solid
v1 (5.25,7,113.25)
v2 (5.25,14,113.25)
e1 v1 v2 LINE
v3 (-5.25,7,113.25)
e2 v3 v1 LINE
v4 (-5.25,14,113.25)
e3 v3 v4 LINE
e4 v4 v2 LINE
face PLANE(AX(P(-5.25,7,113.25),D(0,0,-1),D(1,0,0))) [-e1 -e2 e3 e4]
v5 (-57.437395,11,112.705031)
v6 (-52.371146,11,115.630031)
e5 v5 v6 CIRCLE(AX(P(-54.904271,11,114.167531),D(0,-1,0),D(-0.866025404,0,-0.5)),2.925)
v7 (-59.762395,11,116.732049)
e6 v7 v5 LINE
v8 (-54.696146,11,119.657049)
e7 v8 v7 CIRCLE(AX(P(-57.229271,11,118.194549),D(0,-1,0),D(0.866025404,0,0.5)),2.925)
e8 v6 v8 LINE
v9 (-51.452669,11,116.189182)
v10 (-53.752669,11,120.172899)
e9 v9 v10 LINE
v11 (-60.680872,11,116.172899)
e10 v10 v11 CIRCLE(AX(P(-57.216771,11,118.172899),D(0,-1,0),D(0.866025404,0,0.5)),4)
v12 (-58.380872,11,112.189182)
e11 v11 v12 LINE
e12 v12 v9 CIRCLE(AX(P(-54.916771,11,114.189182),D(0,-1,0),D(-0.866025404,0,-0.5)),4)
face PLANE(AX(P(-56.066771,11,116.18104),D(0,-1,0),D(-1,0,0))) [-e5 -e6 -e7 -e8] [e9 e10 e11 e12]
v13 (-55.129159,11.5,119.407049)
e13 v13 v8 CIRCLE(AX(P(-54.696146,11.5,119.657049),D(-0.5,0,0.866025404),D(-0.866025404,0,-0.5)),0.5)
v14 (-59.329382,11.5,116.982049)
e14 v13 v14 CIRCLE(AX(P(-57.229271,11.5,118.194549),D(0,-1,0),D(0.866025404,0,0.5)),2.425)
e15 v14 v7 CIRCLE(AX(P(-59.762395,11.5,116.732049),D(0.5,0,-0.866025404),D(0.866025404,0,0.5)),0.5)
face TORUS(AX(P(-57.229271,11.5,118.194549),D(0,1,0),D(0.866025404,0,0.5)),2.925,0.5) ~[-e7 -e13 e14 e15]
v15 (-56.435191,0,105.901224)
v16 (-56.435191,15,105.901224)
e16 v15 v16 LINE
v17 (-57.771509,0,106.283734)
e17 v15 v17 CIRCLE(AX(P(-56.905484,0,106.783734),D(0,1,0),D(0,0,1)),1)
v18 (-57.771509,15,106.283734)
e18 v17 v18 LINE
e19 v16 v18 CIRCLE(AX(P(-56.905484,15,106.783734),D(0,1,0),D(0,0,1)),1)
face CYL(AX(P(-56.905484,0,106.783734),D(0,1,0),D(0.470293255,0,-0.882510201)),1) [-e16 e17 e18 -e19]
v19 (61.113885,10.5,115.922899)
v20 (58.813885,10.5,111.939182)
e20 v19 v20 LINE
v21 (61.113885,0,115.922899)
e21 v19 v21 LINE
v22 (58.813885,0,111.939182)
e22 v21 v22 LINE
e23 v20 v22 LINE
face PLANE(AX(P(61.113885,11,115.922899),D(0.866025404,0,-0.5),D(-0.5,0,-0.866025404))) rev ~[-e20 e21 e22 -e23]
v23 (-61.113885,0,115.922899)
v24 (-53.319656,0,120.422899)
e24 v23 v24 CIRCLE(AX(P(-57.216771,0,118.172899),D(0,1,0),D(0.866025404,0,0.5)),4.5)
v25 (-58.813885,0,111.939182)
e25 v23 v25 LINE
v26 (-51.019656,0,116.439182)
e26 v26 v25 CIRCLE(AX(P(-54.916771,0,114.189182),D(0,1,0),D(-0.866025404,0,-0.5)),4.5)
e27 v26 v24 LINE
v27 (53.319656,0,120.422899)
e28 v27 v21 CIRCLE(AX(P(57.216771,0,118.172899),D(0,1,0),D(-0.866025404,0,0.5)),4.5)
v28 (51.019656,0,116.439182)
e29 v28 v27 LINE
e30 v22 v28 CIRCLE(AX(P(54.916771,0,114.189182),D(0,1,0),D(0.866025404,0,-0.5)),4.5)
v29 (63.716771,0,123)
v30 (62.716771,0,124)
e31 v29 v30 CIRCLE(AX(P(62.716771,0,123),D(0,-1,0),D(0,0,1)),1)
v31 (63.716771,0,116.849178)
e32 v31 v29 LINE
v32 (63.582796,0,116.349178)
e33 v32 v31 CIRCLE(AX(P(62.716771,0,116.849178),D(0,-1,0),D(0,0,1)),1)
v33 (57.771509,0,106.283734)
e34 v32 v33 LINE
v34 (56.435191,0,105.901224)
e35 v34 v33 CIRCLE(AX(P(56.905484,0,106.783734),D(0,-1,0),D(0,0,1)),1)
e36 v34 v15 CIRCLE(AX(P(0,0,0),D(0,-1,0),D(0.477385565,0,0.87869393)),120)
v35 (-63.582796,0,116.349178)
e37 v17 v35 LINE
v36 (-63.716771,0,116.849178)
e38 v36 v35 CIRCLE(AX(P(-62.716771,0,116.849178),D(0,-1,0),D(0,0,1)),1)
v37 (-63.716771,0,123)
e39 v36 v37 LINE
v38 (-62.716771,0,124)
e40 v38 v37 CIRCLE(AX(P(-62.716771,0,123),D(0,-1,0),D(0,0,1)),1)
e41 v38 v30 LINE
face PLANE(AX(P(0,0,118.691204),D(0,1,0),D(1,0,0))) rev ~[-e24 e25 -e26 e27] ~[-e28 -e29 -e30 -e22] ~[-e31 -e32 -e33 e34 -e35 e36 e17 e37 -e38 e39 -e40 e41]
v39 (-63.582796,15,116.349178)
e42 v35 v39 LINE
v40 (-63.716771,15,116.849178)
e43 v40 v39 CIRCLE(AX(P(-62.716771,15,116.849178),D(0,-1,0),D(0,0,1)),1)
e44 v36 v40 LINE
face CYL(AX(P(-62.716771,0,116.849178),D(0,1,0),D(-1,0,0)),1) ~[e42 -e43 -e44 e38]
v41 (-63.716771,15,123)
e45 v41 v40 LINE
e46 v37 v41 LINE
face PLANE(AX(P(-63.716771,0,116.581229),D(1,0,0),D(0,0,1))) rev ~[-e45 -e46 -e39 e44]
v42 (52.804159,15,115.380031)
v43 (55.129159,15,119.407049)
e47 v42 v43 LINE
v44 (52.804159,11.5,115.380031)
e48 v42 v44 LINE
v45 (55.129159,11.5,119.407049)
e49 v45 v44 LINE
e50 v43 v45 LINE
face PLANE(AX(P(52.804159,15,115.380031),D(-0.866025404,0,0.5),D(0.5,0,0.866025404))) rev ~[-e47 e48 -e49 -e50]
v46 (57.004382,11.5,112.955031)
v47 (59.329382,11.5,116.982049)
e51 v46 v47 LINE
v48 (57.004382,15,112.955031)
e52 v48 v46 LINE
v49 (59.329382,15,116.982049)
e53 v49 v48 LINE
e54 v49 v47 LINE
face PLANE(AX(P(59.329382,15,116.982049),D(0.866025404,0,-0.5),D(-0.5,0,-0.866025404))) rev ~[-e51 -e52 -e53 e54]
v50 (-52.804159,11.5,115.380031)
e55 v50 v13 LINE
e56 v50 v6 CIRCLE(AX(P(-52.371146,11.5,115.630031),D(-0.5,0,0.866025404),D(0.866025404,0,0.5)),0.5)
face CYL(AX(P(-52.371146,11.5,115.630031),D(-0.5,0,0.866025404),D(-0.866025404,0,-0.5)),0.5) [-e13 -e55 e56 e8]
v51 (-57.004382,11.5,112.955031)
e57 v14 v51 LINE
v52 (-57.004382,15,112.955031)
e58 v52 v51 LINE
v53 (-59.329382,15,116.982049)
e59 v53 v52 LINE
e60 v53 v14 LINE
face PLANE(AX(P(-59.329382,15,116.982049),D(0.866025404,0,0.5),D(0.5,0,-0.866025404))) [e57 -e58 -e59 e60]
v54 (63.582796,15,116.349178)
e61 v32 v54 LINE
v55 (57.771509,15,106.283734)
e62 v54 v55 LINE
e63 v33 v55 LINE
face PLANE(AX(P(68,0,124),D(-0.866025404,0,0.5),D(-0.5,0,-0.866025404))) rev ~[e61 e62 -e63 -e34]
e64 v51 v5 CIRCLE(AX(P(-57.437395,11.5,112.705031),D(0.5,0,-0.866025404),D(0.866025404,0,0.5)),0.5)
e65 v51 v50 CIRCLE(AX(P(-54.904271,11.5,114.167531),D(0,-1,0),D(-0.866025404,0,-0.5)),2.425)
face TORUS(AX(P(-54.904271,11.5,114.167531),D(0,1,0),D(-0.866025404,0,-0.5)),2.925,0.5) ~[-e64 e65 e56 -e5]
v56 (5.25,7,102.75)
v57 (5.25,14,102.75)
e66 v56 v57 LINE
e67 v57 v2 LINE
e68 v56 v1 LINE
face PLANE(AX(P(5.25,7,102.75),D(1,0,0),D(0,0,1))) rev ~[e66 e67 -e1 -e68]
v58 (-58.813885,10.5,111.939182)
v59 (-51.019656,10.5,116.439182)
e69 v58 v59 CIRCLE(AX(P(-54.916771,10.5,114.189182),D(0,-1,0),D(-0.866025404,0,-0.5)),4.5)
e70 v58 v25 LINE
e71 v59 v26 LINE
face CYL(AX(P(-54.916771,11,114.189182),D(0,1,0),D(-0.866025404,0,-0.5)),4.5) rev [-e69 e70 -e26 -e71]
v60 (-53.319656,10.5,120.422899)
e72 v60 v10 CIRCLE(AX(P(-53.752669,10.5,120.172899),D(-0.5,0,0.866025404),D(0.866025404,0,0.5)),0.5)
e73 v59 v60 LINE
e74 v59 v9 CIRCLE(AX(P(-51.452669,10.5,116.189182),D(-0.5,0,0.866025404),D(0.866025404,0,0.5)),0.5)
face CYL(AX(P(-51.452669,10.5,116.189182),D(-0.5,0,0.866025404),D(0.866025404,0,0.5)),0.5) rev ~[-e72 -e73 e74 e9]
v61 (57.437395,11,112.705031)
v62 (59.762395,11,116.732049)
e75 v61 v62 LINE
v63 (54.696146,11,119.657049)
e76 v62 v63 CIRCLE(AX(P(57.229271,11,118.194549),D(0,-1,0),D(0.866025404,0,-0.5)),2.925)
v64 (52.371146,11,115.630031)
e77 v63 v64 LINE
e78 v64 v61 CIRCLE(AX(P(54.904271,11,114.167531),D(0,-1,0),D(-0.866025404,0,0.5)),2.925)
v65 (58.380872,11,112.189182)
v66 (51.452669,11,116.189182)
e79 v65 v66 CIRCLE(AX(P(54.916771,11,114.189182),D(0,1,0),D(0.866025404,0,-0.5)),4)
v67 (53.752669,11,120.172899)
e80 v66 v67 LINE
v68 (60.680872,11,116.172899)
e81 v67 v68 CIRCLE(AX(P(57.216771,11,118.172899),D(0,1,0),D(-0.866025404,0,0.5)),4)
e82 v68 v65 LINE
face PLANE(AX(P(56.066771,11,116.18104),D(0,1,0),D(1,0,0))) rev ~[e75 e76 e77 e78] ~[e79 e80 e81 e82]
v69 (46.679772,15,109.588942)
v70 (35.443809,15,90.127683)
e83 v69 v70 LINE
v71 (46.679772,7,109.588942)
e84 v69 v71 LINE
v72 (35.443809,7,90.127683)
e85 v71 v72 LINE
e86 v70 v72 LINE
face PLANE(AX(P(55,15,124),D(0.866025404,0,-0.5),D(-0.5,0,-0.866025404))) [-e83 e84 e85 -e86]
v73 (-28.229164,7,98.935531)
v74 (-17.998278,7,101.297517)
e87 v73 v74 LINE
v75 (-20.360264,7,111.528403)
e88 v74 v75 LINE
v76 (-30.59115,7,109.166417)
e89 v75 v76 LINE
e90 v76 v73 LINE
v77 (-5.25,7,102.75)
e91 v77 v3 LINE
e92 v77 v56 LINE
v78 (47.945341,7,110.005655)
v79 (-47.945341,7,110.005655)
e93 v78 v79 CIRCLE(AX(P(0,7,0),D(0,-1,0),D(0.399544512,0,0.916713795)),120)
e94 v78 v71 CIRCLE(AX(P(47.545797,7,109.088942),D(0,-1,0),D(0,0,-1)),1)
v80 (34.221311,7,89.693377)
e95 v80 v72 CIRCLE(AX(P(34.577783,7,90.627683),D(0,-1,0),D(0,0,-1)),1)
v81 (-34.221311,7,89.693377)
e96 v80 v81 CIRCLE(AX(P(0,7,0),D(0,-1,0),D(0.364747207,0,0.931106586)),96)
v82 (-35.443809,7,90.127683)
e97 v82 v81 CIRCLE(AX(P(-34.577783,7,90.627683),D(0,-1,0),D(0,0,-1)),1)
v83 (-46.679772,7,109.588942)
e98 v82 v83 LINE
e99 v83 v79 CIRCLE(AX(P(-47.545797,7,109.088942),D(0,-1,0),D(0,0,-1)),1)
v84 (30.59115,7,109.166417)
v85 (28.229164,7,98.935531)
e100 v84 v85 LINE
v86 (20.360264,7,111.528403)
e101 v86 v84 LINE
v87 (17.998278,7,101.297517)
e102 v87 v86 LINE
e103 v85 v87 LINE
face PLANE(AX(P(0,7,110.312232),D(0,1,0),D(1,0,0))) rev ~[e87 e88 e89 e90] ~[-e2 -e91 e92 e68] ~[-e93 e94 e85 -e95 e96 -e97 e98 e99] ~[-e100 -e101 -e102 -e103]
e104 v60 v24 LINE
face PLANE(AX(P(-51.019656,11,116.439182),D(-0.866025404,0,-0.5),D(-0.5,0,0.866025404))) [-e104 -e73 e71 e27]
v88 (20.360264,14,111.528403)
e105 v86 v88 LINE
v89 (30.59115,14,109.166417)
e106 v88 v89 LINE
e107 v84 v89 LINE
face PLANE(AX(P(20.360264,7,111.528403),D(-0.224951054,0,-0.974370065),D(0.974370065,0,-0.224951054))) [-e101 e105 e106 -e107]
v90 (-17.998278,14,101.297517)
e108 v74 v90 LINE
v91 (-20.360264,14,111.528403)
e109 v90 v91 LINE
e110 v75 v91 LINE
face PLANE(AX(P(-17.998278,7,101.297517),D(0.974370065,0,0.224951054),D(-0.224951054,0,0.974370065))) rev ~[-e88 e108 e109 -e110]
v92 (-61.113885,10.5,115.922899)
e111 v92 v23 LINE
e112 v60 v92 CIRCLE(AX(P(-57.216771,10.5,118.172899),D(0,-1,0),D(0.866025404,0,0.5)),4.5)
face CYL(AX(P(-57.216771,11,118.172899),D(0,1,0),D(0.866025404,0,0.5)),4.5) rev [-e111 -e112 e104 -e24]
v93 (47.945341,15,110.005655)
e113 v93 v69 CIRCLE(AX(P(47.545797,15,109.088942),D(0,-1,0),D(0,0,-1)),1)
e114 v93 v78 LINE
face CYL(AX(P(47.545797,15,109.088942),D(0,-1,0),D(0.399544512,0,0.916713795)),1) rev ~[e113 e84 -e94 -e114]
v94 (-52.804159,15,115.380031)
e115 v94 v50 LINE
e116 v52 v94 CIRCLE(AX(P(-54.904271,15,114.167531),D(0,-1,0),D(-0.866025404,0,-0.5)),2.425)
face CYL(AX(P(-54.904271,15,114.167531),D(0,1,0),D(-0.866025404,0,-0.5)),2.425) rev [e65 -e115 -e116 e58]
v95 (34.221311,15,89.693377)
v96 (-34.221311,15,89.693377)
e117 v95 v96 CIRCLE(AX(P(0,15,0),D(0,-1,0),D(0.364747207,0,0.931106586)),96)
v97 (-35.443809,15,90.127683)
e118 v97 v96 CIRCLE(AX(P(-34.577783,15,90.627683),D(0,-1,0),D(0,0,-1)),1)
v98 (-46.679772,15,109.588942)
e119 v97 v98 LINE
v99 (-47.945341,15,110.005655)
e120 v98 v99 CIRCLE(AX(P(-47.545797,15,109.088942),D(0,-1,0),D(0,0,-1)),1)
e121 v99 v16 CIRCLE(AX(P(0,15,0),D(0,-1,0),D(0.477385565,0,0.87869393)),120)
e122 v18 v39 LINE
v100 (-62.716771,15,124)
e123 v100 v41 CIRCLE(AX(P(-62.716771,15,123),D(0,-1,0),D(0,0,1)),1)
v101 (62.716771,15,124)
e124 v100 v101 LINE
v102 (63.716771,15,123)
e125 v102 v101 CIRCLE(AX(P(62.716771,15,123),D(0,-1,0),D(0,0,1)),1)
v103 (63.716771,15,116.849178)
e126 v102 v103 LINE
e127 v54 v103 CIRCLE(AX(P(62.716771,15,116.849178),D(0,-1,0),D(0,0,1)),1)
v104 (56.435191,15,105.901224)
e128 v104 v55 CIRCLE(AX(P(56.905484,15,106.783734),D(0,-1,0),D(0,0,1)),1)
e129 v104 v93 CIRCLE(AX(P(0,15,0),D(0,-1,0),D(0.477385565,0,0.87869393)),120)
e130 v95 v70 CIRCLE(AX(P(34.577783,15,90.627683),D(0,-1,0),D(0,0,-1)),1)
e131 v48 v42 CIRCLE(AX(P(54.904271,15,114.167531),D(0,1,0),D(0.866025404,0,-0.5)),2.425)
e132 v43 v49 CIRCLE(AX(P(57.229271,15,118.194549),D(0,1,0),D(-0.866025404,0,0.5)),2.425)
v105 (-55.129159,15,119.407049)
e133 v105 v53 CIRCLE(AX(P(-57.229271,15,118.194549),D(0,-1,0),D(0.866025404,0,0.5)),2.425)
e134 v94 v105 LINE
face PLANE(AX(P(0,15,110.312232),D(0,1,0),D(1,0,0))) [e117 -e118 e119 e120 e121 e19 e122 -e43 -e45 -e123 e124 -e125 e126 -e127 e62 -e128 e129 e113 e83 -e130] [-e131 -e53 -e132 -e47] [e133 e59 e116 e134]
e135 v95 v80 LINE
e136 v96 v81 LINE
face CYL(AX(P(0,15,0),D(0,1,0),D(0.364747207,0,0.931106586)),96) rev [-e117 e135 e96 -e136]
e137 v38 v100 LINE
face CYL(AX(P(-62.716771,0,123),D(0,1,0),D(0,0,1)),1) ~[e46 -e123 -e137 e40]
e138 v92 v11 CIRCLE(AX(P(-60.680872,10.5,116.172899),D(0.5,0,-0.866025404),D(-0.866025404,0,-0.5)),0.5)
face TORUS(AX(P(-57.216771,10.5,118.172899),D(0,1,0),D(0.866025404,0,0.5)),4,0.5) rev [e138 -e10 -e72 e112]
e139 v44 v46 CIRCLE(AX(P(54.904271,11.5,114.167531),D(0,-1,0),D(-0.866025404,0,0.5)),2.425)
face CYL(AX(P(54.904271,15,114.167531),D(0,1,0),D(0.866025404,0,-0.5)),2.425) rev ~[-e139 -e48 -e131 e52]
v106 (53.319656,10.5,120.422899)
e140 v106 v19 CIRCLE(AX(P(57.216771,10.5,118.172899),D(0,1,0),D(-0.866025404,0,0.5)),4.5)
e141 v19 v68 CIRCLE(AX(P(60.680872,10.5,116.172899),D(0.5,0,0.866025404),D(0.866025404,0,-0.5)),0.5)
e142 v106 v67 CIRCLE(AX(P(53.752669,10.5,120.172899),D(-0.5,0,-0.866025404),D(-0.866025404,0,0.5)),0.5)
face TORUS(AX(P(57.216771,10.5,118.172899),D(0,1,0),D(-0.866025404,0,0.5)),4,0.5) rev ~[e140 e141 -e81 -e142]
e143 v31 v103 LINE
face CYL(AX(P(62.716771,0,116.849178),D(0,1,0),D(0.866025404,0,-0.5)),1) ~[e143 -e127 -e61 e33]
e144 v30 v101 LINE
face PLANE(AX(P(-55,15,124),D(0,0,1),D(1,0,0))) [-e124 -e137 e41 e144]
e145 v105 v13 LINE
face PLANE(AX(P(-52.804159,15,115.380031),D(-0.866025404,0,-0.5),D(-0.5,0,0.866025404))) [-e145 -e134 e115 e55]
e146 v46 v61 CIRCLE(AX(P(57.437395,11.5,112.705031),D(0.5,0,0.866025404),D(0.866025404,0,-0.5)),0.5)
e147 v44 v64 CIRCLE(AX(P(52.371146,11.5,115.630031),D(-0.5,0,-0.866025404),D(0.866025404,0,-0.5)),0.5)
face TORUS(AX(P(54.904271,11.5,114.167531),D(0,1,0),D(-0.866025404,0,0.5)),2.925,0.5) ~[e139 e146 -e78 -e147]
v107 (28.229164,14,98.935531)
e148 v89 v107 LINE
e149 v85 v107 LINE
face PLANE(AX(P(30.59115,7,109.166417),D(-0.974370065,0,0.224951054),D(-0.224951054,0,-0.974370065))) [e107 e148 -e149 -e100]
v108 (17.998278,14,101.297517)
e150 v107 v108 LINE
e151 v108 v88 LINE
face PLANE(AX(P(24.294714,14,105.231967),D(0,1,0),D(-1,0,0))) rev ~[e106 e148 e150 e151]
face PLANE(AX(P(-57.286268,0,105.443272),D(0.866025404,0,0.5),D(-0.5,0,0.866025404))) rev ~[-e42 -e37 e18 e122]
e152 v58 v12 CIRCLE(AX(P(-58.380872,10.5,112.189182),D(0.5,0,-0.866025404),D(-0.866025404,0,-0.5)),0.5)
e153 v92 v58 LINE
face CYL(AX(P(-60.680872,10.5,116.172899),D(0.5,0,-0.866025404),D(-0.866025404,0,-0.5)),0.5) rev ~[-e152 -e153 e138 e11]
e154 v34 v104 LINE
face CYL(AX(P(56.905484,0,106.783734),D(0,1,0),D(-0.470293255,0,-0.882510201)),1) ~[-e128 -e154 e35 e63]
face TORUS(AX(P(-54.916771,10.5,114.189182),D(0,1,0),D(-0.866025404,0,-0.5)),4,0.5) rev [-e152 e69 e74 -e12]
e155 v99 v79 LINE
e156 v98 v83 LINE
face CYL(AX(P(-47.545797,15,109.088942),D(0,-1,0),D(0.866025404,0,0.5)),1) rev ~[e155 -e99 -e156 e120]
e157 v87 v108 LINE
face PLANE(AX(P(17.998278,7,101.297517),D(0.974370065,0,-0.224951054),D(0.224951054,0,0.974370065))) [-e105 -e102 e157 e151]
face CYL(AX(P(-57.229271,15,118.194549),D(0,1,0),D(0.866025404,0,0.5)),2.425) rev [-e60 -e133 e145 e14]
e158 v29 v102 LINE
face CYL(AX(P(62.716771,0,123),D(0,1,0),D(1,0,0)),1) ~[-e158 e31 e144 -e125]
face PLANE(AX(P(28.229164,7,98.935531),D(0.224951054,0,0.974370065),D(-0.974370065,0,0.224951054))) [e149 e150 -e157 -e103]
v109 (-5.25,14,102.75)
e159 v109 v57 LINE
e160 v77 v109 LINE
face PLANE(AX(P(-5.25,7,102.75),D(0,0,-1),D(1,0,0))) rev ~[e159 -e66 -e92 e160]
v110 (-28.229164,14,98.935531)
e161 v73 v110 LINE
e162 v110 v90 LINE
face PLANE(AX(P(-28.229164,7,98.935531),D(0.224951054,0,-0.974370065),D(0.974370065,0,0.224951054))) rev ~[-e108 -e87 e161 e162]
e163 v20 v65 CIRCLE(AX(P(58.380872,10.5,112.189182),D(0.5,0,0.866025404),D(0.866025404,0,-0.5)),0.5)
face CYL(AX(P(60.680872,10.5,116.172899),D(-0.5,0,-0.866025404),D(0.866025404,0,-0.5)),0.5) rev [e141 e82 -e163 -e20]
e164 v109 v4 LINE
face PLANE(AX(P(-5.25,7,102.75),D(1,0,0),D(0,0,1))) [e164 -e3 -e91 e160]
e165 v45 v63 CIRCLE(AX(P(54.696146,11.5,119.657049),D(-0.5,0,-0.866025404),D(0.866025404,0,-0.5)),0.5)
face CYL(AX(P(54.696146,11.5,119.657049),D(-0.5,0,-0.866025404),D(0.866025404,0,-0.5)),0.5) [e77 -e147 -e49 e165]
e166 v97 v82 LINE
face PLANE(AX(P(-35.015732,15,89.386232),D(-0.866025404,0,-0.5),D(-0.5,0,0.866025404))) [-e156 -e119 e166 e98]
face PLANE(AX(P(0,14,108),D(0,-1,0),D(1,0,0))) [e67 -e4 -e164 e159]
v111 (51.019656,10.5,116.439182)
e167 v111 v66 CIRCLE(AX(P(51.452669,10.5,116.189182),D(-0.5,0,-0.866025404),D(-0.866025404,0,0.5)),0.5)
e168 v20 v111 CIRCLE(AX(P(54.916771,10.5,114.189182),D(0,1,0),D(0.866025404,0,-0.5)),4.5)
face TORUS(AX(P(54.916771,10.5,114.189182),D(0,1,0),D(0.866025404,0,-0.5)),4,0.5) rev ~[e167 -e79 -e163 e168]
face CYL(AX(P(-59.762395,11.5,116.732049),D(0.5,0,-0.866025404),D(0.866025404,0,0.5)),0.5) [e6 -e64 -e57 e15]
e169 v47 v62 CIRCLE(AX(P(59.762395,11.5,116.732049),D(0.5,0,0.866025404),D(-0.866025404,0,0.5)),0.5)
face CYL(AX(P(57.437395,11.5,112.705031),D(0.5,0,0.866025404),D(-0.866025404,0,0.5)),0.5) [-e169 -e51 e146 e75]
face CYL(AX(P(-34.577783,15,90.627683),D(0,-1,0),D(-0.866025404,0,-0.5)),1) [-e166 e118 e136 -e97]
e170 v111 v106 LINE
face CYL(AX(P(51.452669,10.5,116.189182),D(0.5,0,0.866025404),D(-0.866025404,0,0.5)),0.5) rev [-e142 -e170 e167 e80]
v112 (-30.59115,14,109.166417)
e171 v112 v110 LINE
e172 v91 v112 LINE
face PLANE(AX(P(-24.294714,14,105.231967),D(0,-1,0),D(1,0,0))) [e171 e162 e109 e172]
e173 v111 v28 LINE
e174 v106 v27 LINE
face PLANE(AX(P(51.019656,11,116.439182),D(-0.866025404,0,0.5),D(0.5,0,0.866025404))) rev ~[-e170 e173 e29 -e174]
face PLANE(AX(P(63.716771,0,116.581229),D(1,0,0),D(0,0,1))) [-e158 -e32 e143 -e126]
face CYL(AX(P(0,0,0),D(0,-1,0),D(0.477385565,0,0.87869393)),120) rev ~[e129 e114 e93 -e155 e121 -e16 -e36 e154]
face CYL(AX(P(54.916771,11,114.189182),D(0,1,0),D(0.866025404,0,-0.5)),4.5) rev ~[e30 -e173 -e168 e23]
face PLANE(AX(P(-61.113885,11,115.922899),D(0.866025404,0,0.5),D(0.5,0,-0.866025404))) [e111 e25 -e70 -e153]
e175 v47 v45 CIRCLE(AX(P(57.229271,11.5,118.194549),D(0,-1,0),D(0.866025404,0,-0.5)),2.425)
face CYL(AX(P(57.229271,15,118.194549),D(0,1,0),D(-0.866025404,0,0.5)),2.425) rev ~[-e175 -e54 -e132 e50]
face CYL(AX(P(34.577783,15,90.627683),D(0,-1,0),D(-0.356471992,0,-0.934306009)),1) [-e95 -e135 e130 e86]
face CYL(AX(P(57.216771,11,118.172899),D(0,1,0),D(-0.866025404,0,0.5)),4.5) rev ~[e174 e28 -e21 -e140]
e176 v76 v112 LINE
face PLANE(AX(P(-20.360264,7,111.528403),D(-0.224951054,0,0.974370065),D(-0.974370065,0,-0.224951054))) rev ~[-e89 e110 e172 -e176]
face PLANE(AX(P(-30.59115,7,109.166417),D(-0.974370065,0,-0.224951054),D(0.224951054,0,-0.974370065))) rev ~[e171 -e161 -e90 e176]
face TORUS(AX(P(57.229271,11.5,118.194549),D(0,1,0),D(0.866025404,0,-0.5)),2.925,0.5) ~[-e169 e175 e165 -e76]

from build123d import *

# Parameters (mm, degrees)
BOSS_EXTRUDE1_DEPTH = 15
CUT_EXTRUDE1_DEPTH  = 16
CUT_EXTRUDE3_START  = -4
CUT_EXTRUDE3_DEPTH  = 12
FILLET2_R           = 0.5
BOSS_EXTRUDE2_DEPTH = 8
SKETCH5_W           = 10.5
SKETCH5_H           = 10.5
CUT_EXTRUDE4_DEPTH  = 7
CUT_EXTRUDE5_DEPTH  = 16
FILLET1_R           = 1


with BuildPart() as part:
    # Sketch1 → Boss-Extrude1 (new body)
    with BuildSketch(Plane(origin=(0, 0, 0), x_dir=(1, 0, 0), z_dir=(0, 1, 0))):
        with BuildLine():
            Line((-57.286267839, -105.443271559), (-68, -124))
            Line((-68, -124), (68, -124))
            Line((68, -124), (57.286267839, -105.443271559))
            ThreePointArc((57.286267839, -105.443271559), (0, -120), (-57.286267839, -105.443271559))
        make_face()
    extrude(amount=BOSS_EXTRUDE1_DEPTH)

    # Sketch2 → Cut-Extrude1 (cut, through all)
    with BuildSketch(Plane(origin=(0, 15, 0), x_dir=(1, 0, 0), z_dir=(0, 1, 0))):
        with BuildLine():
            Line((-52.804159001, -115.380031326), (-55.129159001, -119.407049454))
            ThreePointArc((-55.129159001, -119.407049454), (-58.441770605, -120.294661058), (-59.32938221, -116.982049454))
            Line((-59.32938221, -116.982049454), (-57.00438221, -112.955031326))
            ThreePointArc((-57.00438221, -112.955031326), (-53.691770605, -112.067419722), (-52.804159001, -115.380031326))
        make_face()
        with BuildLine():
            Line((52.804159001, -115.380031326), (55.129159001, -119.407049454))
            ThreePointArc((55.129159001, -119.407049454), (58.441770605, -120.294661058), (59.32938221, -116.982049454))
            Line((59.32938221, -116.982049454), (57.00438221, -112.955031326))
            ThreePointArc((57.00438221, -112.955031326), (53.691770605, -112.067419722), (52.804159001, -115.380031326))
        make_face()
    extrude(amount=-CUT_EXTRUDE1_DEPTH, mode=Mode.SUBTRACT)

    # Sketch3 → Cut-Extrude3 (cut, through all)
    with BuildSketch(Plane(origin=(0, 15, 0), x_dir=(1, 0, 0), z_dir=(0, 1, 0)).offset(CUT_EXTRUDE3_START)):
        with BuildLine():
            Line((-51.019656288, -116.439181962), (-53.319656288, -120.422898819))
            ThreePointArc((-53.319656288, -120.422898819), (-59.466770605, -122.070013136), (-61.113884922, -115.922898819))
            Line((-61.113884922, -115.922898819), (-58.813884922, -111.939181962))
            ThreePointArc((-58.813884922, -111.939181962), (-52.666770605, -110.292067644), (-51.019656288, -116.439181962))
        make_face()
        with BuildLine():
            Line((51.019656288, -116.439181962), (53.319656288, -120.422898819))
            ThreePointArc((53.319656288, -120.422898819), (59.466770605, -122.070013136), (61.113884922, -115.922898819))
            Line((61.113884922, -115.922898819), (58.813884922, -111.939181962))
            ThreePointArc((58.813884922, -111.939181962), (52.666770605, -110.292067644), (51.019656288, -116.439181962))
        make_face()
    extrude(amount=-CUT_EXTRUDE3_DEPTH, mode=Mode.SUBTRACT)

    # Fillet2
    fillet2_edges = [part.edges().sort_by_distance(p)[0] for p in [
        (-58.16688221, 11, 114.96854039),
        (53.966659001, 11, 117.39354039),
        (-52.666770605, 11, 110.292067644),
        (-59.963884922, 11, 113.93104039),
        (-59.466770605, 11, 122.070013136),
        (-52.169656288, 11, 118.43104039),
        (-53.691770605, 11, 112.067419722),
        (-53.966659001, 11, 117.39354039),
        (-58.441770605, 11, 120.294661058),
        (52.666770605, 11, 110.292067644),
        (52.169656288, 11, 118.43104039),
        (59.466770605, 11, 122.070013136),
        (59.963884922, 11, 113.93104039),
        (58.16688221, 11, 114.96854039),
        (53.691770605, 11, 112.067419722),
        (58.441770605, 11, 120.294661058),
    ]]
    fillet(fillet2_edges, radius=FILLET2_R)

    # Sketch4 → Boss-Extrude2 (add)
    with BuildSketch(Plane(origin=(0, 15, 0), x_dir=(1, 0, 0), z_dir=(0, 1, 0))):
        with BuildLine():
            Line((-35.015731887, -89.386232276), (-55, -124))
            Line((-55, -124), (55, -124))
            Line((55, -124), (35.015731887, -89.386232276))
            ThreePointArc((35.015731887, -89.386232276), (0, -96), (-35.015731887, -89.386232276))
        make_face()
    extrude(amount=-BOSS_EXTRUDE2_DEPTH)

    # Sketch5 → Cut-Extrude4 (cut)
    with BuildSketch(Plane.XZ.offset(-7)):
        with Locations((0, 108)):
            Rectangle(SKETCH5_W, SKETCH5_H)
        Polygon((17.998277994, 101.297517192), (20.360264064, 111.528402872), (30.591149745, 109.166416802), (28.229163674, 98.935531121), align=None)
        Polygon((-17.998277994, 101.297517192), (-20.360264064, 111.528402872), (-30.591149745, 109.166416802), (-28.229163674, 98.935531121), align=None)
    extrude(amount=-CUT_EXTRUDE4_DEPTH, mode=Mode.SUBTRACT)

    # Sketch6 → Cut-Extrude5 (cut, through all)
    with BuildSketch(Plane.XZ):
        Polygon((63.716770605, 116.581229068), (63.716770605, 124), (68, 124), align=None)
        Polygon((-68, 124), (-63.716770605, 116.581229068), (-63.716770605, 124), align=None)
    extrude(amount=-CUT_EXTRUDE5_DEPTH, mode=Mode.SUBTRACT)

    # Fillet1
    fillet1_edges = [part.edges().sort_by_distance(p)[0] for p in [
        (35.015731887, 11, 89.386232276),
        (-35.015731887, 11, 89.386232276),
        (47.124753912, 11, 110.359673653),
        (-47.124753912, 11, 110.359673653),
        (63.716770605, 7.5, 116.581229068),
        (63.716770605, 7.5, 124),
        (-63.716770605, 7.5, 124),
        (-63.716770605, 7.5, 116.581229068),
        (57.286267839, 7.5, 105.443271559),
        (-57.286267839, 7.5, 105.443271559),
    ]]
    fillet(fillet1_edges, radius=FILLET1_R)


solid = part.part
